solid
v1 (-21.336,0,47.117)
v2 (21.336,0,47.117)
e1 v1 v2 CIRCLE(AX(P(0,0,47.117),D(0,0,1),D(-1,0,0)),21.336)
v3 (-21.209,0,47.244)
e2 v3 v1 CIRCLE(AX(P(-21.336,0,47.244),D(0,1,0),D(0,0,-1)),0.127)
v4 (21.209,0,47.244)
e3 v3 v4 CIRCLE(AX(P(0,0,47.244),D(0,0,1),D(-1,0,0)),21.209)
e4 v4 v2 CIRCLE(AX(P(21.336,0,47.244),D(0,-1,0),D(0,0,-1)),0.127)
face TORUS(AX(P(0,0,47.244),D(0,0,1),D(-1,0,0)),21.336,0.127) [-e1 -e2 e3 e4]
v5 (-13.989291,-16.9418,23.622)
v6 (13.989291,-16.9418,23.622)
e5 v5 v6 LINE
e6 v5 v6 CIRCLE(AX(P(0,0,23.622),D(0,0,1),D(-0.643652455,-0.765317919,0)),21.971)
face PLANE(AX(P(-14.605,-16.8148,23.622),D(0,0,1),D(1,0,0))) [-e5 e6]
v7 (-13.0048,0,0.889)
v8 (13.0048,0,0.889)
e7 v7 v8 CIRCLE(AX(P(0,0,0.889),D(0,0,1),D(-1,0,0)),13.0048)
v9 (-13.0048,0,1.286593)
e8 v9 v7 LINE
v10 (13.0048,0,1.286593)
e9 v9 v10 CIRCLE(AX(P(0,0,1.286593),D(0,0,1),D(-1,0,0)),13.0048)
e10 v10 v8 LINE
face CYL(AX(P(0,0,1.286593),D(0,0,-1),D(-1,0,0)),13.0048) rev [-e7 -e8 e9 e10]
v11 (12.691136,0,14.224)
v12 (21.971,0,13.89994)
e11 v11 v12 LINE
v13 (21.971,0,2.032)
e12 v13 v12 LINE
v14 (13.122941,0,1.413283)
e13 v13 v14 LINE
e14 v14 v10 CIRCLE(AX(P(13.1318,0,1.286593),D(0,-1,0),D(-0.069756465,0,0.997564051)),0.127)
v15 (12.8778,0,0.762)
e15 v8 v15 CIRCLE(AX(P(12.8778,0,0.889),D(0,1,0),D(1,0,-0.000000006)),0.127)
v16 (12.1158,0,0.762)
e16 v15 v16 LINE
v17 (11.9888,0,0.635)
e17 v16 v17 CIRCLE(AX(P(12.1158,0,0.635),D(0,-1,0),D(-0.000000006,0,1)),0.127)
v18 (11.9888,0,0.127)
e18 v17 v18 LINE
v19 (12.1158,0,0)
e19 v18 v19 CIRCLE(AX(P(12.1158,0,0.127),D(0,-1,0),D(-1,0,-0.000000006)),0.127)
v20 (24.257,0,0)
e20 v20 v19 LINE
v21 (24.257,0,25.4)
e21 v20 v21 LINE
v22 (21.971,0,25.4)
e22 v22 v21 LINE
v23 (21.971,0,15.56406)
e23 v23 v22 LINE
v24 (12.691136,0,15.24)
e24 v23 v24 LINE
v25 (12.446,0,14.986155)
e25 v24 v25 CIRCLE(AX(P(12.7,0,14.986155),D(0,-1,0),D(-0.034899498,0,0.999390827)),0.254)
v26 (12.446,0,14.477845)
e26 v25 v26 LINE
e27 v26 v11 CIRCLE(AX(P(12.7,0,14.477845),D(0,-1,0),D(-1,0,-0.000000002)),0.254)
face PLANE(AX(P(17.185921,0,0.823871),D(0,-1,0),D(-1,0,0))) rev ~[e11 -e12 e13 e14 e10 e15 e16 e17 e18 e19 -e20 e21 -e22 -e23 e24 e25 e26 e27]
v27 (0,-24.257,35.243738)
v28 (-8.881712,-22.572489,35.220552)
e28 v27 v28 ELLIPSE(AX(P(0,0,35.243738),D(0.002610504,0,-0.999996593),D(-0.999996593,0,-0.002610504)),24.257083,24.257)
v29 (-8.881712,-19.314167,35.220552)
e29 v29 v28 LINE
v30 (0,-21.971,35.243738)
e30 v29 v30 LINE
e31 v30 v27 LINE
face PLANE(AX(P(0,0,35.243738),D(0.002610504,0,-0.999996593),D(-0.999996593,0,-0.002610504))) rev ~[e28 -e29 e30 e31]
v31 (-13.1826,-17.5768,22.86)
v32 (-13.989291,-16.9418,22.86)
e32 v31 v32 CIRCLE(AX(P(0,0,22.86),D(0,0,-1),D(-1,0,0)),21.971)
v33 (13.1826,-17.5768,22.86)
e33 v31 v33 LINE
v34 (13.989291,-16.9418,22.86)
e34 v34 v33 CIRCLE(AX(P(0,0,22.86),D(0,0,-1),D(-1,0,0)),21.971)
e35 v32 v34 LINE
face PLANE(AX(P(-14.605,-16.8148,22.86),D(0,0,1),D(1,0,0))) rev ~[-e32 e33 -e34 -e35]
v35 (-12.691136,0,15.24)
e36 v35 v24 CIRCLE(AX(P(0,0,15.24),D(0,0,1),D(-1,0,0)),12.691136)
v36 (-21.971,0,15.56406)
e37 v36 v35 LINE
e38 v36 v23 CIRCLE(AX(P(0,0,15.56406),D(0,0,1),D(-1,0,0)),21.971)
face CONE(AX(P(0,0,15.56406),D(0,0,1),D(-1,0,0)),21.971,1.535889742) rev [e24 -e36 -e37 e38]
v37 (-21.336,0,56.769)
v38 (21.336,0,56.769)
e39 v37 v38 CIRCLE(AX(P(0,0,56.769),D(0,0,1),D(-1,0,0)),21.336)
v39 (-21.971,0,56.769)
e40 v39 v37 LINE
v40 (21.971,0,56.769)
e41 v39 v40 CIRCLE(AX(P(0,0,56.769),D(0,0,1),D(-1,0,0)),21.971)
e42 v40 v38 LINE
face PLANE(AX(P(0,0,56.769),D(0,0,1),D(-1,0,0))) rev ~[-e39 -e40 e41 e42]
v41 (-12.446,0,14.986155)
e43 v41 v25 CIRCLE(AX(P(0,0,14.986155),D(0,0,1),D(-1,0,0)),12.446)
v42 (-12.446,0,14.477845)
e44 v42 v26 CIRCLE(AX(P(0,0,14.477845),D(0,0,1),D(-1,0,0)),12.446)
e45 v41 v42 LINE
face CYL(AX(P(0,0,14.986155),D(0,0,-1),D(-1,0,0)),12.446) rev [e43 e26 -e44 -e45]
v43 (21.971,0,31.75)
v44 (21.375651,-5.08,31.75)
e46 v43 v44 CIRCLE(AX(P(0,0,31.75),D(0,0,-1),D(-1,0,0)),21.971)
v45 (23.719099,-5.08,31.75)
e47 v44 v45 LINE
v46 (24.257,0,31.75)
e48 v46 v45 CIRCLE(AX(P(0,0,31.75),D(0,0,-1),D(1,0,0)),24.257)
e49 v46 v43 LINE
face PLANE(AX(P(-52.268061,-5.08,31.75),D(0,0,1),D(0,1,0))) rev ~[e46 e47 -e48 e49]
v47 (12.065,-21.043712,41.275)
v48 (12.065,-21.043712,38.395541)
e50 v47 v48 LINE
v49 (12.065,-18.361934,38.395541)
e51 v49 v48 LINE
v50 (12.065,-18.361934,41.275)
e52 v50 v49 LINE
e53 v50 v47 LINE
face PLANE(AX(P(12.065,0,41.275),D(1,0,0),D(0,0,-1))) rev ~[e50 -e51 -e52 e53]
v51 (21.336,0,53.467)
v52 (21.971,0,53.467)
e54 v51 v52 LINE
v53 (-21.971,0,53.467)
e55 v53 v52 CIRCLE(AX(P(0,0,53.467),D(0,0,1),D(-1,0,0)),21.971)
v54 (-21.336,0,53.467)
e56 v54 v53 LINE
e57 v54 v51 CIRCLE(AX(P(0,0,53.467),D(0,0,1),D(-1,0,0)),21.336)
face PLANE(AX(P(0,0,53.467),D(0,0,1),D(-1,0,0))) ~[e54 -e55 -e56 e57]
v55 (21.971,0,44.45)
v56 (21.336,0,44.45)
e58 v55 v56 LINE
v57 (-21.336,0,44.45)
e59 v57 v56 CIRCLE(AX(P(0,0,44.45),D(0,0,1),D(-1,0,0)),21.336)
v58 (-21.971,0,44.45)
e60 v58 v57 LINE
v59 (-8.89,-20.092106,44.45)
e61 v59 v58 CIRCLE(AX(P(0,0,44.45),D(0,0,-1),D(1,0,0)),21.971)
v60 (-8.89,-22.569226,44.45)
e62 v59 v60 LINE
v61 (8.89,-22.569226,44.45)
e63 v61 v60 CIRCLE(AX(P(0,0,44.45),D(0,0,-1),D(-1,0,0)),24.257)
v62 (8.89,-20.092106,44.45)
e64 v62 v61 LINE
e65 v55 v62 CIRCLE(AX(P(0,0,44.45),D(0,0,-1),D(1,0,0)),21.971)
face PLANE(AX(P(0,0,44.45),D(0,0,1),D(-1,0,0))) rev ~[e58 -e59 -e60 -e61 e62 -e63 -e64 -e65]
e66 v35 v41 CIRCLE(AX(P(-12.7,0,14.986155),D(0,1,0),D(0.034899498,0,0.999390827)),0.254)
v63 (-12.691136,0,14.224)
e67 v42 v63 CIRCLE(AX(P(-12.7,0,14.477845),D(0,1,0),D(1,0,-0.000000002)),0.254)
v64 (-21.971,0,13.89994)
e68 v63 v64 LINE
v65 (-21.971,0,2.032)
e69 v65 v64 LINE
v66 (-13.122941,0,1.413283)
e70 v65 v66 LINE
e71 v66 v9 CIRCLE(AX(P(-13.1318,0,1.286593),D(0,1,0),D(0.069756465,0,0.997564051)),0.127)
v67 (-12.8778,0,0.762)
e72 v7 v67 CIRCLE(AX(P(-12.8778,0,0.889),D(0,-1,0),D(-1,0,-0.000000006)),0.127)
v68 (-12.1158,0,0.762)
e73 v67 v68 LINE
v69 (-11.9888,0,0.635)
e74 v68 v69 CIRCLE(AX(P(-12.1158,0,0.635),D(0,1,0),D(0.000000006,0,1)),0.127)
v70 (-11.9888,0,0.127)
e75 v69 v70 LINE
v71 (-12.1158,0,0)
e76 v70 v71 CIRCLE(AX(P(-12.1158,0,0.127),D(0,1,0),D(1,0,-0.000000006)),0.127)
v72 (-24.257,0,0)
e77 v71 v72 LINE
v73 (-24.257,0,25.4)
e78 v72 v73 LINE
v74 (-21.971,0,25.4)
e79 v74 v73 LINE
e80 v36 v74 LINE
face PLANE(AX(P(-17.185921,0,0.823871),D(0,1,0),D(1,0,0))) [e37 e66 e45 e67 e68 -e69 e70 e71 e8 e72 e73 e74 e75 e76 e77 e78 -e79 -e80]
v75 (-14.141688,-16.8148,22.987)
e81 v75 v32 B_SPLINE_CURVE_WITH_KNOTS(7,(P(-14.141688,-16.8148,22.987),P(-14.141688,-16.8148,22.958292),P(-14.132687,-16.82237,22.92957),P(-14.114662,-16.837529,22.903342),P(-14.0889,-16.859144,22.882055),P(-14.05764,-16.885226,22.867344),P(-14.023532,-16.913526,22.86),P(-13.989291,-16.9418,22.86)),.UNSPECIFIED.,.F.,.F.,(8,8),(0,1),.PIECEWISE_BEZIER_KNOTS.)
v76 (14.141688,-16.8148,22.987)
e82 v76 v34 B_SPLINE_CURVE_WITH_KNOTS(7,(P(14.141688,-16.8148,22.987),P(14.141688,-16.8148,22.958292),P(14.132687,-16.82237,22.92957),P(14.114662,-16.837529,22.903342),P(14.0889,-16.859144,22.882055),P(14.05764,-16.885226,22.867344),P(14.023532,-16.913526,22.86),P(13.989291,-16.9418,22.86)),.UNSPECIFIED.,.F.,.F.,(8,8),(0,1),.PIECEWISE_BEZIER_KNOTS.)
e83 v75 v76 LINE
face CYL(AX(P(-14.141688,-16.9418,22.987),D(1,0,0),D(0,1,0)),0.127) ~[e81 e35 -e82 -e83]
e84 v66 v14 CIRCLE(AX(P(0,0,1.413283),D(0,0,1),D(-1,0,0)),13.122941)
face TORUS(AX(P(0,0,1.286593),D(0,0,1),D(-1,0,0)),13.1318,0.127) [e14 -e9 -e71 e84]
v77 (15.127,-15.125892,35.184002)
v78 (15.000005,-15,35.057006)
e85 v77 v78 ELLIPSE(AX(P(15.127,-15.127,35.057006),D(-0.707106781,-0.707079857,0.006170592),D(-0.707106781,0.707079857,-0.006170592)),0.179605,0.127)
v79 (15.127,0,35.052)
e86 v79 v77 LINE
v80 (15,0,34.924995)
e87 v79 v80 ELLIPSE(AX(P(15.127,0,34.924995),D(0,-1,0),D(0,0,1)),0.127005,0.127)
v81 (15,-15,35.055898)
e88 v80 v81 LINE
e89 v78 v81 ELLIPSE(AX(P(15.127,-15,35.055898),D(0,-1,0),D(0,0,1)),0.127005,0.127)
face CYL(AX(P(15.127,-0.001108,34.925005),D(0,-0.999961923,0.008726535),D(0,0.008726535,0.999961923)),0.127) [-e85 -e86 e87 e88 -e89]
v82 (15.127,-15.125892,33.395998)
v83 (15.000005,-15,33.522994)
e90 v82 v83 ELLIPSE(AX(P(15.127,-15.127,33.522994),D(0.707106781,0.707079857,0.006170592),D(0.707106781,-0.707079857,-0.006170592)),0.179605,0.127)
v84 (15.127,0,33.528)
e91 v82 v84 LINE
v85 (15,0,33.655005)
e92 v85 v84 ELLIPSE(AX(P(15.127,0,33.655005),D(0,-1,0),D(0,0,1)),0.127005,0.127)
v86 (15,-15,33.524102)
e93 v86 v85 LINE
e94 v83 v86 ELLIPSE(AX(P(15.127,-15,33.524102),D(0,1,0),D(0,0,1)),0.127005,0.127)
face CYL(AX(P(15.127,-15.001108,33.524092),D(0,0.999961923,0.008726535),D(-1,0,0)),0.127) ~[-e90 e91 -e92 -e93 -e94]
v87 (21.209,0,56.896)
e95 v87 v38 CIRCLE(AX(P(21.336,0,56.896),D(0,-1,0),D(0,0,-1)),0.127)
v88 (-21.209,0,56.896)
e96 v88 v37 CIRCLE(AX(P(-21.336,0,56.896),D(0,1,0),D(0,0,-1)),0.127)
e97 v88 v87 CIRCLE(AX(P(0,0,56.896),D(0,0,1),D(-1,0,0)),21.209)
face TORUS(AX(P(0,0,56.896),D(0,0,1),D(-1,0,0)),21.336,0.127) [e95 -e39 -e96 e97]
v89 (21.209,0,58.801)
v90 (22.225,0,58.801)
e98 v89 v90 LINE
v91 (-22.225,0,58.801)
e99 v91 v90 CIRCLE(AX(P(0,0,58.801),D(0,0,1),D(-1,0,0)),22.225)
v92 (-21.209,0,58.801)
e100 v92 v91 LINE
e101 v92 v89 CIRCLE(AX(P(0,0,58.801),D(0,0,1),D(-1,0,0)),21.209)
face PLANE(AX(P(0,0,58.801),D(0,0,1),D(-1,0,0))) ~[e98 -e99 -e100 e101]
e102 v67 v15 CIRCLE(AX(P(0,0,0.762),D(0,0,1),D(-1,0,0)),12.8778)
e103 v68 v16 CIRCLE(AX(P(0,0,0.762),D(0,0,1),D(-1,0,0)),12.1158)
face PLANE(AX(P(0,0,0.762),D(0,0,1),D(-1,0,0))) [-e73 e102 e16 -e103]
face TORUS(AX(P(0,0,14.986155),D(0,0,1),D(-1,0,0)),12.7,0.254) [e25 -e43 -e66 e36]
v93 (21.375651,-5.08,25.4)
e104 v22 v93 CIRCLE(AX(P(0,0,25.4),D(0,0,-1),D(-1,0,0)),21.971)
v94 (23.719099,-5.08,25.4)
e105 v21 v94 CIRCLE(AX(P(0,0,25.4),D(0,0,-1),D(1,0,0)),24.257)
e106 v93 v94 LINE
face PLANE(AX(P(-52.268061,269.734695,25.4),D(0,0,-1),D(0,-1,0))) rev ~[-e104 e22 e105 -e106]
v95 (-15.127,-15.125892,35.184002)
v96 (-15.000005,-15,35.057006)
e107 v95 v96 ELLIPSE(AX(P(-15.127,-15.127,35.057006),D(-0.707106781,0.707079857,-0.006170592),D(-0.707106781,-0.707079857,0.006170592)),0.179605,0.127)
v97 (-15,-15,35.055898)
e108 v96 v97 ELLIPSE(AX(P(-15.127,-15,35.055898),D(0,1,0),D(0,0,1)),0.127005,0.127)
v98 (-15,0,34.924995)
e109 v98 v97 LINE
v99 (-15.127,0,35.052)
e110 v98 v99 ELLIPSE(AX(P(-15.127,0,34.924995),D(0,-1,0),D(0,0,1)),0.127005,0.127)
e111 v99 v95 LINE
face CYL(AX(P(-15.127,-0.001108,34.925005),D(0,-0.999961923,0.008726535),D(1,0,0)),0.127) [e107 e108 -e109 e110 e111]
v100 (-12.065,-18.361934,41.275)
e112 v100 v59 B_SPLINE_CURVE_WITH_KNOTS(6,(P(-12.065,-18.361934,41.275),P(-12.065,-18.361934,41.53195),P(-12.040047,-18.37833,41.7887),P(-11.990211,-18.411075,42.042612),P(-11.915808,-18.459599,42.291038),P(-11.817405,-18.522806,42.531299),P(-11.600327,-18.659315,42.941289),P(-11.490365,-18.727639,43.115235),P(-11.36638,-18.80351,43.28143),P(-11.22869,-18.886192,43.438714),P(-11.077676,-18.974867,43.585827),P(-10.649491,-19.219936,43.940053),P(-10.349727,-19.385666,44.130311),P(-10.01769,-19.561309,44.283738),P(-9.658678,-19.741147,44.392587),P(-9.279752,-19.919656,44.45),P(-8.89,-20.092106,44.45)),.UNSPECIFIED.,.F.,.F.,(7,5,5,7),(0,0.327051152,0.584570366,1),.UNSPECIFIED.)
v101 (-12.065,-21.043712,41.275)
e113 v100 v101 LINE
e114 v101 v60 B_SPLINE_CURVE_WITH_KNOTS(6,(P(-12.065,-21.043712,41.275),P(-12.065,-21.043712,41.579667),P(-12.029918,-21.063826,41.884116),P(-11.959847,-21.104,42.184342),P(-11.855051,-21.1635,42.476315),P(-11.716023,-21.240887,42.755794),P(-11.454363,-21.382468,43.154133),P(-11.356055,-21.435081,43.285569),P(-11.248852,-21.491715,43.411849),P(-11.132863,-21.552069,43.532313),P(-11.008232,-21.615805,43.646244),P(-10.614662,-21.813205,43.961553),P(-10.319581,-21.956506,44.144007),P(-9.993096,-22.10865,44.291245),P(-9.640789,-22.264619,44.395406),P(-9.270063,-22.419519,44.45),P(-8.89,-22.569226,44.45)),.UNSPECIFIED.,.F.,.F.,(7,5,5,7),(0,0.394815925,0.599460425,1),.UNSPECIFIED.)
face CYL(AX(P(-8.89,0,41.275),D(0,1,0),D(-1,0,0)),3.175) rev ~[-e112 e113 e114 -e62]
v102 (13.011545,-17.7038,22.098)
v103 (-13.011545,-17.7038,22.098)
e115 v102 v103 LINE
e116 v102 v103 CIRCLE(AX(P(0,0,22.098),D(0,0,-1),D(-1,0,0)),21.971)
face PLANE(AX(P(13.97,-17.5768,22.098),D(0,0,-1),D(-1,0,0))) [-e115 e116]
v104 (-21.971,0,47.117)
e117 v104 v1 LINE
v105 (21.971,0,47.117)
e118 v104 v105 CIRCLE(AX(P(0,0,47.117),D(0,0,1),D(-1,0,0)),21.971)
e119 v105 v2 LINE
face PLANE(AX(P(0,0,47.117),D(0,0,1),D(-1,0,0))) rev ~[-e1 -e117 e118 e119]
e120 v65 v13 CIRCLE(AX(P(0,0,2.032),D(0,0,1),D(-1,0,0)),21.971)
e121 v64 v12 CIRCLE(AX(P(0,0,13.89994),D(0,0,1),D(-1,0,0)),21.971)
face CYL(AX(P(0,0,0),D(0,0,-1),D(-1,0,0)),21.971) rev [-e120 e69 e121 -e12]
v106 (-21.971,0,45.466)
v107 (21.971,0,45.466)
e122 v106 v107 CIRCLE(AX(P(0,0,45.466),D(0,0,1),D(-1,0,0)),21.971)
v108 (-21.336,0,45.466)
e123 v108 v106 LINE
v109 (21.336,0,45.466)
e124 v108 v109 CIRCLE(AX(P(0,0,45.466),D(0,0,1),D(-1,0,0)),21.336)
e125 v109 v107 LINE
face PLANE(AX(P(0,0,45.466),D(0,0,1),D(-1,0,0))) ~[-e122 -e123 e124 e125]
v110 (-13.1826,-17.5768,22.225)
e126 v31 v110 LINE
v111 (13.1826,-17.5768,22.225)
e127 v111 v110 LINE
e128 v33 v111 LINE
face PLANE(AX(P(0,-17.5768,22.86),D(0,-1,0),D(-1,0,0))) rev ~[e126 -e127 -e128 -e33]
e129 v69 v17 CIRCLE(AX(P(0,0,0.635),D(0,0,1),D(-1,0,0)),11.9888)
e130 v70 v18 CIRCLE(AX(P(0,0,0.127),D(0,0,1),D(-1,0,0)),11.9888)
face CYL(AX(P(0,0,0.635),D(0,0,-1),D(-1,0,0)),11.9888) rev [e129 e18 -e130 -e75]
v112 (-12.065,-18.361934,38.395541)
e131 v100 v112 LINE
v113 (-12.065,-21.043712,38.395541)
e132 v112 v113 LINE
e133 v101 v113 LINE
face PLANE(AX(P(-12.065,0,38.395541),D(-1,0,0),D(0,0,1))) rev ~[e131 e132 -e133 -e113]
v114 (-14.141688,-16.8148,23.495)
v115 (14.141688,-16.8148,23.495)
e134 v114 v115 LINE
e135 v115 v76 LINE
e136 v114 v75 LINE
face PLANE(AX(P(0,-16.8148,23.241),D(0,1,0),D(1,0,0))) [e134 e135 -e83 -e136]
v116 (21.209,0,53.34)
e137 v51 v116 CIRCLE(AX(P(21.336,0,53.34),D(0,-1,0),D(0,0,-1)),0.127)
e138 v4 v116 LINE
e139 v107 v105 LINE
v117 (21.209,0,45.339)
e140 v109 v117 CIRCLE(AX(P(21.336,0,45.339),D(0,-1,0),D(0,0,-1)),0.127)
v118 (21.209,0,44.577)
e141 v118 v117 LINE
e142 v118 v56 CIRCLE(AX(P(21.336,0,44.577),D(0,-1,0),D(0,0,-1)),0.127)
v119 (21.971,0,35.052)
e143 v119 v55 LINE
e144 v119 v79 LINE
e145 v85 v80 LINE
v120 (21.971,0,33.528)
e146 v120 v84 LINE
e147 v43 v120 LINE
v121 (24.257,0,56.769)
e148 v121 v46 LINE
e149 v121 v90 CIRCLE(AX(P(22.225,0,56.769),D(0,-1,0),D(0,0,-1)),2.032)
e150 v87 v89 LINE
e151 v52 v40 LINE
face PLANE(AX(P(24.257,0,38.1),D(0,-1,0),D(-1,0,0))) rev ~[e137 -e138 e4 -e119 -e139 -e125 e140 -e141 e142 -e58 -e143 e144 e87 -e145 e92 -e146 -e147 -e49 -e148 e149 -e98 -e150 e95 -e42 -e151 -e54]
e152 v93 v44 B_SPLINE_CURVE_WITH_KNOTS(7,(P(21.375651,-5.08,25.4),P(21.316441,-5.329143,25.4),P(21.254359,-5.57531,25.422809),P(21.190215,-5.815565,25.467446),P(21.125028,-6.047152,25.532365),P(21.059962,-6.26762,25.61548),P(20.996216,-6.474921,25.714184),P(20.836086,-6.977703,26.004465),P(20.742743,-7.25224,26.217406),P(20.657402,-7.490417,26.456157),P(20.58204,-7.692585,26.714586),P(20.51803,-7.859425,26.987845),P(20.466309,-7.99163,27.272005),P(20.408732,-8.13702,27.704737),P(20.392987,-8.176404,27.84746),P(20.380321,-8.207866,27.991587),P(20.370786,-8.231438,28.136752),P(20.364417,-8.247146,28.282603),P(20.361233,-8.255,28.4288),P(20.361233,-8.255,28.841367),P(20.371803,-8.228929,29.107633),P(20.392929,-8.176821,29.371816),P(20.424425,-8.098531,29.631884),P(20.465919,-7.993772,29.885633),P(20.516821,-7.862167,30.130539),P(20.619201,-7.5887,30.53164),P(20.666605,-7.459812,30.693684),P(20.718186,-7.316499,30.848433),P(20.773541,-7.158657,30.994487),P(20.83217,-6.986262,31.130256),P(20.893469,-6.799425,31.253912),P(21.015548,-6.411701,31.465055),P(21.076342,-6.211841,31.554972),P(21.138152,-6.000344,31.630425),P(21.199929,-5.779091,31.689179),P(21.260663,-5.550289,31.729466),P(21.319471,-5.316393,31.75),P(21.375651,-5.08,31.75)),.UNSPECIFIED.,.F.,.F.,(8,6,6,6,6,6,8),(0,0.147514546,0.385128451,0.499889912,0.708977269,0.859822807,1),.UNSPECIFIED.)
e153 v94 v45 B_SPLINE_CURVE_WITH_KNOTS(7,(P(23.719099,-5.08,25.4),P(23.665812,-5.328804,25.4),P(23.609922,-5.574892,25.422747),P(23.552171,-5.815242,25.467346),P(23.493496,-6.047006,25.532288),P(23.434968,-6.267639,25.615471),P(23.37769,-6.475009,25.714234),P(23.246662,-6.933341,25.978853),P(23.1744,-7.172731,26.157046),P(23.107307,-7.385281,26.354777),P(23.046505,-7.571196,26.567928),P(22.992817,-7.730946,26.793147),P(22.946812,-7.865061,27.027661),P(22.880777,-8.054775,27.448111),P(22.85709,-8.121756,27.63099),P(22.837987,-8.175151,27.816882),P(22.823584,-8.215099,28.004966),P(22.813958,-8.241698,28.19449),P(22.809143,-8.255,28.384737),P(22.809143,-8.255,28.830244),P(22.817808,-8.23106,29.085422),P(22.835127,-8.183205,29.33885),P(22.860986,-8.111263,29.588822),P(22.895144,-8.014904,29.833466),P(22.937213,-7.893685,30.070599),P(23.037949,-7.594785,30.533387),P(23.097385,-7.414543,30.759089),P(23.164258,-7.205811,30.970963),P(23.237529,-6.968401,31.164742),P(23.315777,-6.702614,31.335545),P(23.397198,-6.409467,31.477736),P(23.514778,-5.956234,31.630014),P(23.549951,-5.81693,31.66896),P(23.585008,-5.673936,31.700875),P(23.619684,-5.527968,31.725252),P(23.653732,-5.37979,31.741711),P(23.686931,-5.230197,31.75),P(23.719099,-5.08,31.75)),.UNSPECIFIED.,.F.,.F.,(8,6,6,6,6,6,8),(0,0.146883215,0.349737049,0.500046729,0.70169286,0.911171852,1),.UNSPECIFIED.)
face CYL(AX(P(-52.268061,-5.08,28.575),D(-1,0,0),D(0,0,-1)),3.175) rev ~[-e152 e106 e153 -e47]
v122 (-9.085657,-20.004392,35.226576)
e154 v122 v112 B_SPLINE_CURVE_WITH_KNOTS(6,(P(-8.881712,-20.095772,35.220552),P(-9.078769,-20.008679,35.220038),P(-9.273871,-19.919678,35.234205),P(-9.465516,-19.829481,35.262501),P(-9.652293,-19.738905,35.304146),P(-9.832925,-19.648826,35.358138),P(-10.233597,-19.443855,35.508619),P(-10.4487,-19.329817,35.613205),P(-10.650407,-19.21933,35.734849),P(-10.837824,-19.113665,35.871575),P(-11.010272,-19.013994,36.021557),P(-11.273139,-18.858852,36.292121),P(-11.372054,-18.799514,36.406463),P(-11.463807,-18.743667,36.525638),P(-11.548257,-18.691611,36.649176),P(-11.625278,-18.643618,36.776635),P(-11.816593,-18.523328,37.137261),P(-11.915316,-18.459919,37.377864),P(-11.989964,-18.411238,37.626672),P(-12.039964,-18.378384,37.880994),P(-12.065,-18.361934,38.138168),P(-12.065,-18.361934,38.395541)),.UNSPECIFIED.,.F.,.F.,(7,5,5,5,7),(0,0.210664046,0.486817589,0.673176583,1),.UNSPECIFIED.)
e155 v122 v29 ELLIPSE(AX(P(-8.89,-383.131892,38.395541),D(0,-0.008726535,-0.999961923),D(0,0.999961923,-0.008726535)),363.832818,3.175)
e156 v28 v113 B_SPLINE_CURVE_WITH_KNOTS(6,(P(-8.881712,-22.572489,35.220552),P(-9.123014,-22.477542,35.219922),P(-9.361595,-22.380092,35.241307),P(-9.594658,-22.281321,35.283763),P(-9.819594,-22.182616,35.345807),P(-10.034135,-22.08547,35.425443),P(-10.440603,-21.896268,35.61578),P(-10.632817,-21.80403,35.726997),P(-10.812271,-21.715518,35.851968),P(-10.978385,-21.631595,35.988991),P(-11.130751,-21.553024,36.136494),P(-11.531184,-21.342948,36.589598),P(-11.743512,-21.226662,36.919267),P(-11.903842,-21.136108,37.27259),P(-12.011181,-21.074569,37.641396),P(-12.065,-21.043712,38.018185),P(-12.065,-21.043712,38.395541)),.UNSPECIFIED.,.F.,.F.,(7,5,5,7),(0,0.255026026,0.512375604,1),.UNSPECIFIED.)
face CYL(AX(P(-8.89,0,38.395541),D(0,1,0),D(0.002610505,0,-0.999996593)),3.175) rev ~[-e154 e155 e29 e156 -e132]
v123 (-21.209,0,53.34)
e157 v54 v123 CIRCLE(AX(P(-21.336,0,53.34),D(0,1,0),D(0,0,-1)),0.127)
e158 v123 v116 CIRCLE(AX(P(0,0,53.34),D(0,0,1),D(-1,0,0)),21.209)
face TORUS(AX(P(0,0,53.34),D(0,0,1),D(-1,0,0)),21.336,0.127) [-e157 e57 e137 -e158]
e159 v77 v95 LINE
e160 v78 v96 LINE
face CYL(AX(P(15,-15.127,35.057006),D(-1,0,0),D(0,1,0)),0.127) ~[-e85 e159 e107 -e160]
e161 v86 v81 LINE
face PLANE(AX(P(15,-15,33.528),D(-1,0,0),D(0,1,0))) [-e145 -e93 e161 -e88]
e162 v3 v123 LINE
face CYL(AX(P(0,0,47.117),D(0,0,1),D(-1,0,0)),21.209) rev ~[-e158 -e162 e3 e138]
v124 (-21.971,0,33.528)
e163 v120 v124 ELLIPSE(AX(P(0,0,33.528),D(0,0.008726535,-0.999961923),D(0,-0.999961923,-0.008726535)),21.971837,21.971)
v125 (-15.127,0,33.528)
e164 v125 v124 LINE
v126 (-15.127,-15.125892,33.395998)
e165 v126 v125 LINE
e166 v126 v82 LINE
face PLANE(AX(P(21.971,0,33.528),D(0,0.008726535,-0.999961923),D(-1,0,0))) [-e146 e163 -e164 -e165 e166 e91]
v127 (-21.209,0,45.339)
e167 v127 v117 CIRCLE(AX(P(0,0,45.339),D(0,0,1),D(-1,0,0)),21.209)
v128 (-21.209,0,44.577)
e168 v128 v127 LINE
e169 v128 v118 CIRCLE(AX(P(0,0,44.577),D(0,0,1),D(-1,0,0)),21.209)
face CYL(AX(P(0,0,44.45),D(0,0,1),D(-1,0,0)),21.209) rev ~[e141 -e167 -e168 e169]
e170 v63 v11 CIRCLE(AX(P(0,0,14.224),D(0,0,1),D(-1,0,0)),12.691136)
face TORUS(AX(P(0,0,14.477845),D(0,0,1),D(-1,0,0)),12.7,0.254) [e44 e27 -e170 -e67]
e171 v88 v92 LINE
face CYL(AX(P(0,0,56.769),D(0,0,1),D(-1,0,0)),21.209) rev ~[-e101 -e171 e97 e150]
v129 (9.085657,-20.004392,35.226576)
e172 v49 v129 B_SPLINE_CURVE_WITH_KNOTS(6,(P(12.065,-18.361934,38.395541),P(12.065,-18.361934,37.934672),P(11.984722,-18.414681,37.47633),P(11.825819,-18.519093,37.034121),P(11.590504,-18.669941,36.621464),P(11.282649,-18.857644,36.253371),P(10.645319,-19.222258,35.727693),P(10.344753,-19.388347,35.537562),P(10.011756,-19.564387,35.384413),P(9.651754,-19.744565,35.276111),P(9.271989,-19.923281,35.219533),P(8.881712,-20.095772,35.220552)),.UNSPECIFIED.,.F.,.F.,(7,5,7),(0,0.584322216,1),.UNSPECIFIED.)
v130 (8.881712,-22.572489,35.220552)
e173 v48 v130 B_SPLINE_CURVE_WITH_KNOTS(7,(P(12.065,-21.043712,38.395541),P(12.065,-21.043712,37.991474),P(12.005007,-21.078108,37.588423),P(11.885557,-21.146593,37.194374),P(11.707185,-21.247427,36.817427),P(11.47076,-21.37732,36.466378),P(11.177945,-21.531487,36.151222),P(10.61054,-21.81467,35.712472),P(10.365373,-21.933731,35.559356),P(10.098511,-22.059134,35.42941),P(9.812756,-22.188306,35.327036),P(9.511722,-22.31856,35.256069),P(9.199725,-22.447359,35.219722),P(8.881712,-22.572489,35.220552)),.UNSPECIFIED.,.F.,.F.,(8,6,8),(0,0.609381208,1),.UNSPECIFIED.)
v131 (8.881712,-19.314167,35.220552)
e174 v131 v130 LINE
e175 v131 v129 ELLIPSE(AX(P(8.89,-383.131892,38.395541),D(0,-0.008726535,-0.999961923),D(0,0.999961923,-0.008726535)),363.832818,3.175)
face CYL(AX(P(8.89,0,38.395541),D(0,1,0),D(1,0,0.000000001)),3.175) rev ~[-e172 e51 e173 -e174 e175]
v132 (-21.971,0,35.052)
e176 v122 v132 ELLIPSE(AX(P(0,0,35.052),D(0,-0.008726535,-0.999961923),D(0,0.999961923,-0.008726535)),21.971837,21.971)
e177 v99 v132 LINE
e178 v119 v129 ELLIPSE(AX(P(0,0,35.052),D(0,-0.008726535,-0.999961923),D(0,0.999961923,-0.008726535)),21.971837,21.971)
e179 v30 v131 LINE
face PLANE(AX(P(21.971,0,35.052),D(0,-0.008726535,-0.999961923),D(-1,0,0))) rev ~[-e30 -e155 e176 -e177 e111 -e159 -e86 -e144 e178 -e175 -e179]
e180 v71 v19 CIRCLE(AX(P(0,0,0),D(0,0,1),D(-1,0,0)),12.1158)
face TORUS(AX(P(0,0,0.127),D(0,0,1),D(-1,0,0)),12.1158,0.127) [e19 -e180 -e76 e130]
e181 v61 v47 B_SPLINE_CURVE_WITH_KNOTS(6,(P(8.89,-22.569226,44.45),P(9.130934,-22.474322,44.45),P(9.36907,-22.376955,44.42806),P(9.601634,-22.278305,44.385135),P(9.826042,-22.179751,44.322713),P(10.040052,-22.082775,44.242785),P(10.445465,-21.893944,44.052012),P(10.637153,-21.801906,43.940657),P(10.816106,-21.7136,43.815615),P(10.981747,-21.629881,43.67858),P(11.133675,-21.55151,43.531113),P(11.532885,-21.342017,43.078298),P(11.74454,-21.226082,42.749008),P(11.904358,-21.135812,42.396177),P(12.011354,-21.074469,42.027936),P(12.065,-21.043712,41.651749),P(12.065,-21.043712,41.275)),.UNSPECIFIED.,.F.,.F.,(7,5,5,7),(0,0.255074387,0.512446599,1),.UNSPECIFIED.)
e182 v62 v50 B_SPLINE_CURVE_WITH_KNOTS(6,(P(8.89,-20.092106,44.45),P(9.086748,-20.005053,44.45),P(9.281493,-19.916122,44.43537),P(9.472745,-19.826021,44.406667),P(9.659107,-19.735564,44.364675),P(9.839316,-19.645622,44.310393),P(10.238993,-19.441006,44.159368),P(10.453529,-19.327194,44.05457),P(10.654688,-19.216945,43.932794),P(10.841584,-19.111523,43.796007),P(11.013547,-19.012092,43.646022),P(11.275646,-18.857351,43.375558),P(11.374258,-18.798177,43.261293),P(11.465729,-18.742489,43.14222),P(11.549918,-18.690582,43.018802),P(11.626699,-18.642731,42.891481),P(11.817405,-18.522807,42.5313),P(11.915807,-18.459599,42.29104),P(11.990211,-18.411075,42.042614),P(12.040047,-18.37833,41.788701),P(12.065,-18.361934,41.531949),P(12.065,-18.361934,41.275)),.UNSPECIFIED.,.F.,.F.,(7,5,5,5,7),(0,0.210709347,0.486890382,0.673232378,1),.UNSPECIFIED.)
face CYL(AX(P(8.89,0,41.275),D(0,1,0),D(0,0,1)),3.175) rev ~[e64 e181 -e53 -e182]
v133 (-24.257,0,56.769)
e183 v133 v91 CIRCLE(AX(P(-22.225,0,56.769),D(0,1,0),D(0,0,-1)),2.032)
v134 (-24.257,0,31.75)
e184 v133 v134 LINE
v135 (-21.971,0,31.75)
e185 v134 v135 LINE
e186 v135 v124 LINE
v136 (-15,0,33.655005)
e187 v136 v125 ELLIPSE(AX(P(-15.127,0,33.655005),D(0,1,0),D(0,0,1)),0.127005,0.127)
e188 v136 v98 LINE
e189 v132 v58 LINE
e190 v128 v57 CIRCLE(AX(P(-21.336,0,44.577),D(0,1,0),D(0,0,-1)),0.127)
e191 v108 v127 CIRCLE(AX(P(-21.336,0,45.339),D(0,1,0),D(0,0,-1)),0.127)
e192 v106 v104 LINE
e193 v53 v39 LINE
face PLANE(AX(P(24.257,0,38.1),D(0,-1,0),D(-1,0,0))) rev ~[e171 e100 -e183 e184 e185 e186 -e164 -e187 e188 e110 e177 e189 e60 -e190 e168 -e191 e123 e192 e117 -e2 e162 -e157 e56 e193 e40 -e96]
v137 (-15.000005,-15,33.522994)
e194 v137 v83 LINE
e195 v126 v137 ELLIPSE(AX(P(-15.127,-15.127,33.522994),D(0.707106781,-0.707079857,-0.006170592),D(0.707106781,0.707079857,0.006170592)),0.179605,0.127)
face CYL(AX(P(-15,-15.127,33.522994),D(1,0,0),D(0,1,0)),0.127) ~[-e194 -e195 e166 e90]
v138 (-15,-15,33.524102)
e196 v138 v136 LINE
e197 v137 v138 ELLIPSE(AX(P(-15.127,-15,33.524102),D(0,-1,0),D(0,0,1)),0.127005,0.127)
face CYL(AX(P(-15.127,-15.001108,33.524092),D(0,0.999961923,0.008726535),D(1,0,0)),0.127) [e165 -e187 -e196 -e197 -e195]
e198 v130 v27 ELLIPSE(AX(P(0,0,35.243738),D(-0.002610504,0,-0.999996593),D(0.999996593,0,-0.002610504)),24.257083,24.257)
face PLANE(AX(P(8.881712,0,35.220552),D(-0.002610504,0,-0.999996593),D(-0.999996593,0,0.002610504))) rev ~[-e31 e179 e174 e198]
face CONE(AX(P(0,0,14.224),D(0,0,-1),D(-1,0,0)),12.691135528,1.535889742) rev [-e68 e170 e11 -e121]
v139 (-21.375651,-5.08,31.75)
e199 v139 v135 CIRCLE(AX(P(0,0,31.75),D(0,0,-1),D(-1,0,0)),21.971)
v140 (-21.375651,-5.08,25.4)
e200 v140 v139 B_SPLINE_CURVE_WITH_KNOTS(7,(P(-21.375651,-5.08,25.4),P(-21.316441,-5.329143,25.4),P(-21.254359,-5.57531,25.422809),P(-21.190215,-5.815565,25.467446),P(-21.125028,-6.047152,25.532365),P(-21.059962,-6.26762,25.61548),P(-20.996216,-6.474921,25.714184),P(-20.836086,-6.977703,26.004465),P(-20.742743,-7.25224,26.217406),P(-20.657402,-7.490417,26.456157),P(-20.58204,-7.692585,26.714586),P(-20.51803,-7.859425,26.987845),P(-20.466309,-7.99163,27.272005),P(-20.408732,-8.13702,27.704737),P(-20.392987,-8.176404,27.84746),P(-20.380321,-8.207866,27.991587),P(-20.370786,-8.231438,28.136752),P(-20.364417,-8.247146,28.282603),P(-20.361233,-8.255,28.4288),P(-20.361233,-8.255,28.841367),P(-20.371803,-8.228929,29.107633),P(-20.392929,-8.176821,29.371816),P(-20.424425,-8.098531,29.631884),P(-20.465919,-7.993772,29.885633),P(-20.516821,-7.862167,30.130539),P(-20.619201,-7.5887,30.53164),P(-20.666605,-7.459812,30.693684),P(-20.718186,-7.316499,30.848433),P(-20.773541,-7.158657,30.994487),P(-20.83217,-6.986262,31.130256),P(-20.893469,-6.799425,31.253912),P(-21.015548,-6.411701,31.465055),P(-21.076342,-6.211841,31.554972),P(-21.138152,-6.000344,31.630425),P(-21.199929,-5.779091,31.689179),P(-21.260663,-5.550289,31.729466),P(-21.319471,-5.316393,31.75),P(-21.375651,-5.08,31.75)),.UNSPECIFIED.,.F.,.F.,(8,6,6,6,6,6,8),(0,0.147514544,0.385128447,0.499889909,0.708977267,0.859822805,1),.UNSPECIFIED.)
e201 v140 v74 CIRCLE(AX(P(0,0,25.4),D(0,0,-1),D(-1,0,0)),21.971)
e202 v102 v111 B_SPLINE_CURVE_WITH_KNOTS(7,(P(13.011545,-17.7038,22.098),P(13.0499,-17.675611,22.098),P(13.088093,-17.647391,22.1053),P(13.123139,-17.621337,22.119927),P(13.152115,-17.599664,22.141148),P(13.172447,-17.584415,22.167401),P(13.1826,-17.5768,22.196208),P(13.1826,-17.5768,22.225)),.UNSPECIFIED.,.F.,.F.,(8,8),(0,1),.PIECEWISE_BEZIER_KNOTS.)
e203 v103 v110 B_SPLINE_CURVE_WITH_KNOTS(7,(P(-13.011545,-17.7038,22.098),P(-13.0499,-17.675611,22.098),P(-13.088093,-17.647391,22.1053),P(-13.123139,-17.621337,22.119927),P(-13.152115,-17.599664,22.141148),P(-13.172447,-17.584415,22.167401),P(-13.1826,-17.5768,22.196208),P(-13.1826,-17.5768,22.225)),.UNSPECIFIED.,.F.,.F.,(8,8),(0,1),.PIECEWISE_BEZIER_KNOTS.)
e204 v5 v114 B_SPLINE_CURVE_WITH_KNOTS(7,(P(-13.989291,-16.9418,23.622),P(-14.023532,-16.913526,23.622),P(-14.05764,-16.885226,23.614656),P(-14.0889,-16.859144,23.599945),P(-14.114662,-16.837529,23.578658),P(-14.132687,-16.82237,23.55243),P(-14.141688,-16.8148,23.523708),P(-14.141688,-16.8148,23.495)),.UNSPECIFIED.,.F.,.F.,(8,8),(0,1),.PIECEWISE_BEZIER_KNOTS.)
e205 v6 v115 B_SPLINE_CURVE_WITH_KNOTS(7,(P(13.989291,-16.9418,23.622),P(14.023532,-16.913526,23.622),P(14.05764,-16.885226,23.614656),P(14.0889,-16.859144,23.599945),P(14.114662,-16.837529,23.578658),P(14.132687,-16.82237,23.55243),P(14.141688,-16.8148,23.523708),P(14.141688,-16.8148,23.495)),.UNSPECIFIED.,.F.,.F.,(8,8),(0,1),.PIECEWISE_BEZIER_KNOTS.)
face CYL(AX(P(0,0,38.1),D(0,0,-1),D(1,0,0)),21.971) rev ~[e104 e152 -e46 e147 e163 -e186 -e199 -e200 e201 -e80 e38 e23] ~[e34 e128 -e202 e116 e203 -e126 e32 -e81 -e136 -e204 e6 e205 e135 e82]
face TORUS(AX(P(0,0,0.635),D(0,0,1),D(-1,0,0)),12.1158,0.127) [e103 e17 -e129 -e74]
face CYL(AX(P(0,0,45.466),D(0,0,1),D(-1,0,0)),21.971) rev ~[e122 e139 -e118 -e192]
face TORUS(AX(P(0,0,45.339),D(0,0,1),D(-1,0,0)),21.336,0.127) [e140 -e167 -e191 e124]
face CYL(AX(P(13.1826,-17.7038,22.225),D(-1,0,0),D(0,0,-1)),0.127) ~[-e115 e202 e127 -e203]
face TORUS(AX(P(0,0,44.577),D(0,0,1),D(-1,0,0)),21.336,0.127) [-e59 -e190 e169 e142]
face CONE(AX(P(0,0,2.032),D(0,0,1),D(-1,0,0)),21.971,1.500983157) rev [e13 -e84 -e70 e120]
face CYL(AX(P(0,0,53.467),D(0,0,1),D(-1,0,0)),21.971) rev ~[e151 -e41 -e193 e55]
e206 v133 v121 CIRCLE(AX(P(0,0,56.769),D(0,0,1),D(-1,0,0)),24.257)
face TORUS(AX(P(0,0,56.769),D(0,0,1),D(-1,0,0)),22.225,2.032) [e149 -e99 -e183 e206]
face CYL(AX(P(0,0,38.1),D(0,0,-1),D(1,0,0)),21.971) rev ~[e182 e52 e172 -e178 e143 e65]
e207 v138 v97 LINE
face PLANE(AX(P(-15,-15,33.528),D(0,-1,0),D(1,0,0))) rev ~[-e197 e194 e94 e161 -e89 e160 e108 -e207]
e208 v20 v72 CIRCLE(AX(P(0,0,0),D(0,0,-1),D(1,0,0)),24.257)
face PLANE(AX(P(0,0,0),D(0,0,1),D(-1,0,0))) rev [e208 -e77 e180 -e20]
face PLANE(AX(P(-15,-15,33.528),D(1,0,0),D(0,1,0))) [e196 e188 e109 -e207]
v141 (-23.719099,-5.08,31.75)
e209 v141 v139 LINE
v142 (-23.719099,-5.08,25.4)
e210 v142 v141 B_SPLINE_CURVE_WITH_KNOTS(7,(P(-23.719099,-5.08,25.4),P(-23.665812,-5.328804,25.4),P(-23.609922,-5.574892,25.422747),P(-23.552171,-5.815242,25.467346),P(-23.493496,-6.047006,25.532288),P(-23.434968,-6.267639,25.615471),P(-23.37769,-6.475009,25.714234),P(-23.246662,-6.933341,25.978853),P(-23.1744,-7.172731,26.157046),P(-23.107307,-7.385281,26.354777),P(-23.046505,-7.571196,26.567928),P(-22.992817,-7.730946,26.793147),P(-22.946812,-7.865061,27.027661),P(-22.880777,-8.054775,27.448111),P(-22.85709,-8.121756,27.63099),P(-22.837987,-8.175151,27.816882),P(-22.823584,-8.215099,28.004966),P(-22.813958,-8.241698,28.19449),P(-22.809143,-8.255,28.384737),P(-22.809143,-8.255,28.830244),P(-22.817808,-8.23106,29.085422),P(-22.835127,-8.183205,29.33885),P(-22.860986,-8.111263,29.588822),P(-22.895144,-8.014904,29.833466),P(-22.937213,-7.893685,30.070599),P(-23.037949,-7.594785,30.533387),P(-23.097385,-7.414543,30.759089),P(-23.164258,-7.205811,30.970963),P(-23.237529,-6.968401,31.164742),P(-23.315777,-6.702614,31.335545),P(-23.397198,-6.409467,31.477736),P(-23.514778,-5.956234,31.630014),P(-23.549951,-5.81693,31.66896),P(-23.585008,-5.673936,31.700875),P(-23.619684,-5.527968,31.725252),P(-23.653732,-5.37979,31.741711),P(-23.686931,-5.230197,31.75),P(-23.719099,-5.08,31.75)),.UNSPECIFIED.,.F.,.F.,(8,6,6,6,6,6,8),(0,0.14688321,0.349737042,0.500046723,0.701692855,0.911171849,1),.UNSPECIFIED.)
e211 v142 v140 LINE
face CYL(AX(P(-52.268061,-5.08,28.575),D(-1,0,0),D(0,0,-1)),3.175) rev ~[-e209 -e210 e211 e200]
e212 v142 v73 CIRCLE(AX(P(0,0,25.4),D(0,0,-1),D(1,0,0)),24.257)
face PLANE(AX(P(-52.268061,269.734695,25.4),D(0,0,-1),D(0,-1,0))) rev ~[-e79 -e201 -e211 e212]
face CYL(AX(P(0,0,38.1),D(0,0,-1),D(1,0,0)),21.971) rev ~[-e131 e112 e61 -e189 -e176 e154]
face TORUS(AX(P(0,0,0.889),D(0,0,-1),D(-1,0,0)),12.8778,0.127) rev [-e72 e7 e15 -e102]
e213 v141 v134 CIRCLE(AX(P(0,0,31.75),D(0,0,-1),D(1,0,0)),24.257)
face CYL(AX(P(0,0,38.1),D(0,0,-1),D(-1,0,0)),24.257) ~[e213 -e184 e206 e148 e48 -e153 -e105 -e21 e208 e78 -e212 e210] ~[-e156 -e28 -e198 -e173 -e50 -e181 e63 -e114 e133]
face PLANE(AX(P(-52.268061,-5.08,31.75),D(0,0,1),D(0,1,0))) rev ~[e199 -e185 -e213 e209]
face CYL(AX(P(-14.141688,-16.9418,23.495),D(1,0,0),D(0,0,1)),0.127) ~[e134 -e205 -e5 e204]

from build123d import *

# Parameters (mm, degrees)
BOSS_EXTRUDE1_DEPTH            = 38.1
REVOLVE1_ANGLE                 = 180
REVOLVE2_ANGLE                 = 180
BOSS_EXTRUDE6_REACH            = 50.466
SKETCH11_W                     = 27.94
SKETCH11_H                     = 1.524
SKETCH12_W                     = 29.21
SKETCH12_H                     = 0.762
BOSS_EXTRUDE7_DEPTH            = 0.762
CUT_EXTRUDE1_DEPTH             = 52.268061188
CUT_EXTRUDE1_DEPTH_BACK        = 52.268061188
REVOLVE3_ANGLE                 = 180
BOSS_EXTRUDE9_REACH            = 53.268
BOSS_EXTRUDE10_REACH           = 70.076
SKETCH18_W                     = 43.942
SKETCH18_H                     = 1.524
BOSS_EXTRUDE10_DRAFT           = -0.5
CUT_EXTRUDE2_REACH             = 49.968
SKETCH21_W                     = 30
SKETCH21_H                     = 30
CUT_EXTRUDE2_DIRECTION_2_REACH = 49.968
FILLET3_R                      = 0.127
FILLET4_R                      = 2.032
CUT_EXTRUDE4_DEPTH             = 69.0761464


with BuildPart() as part:
    # Sketch3 → Boss-Extrude1 (new body)
    with BuildSketch(Plane.XY):
        with BuildLine():
            Line((-24.257, 0), (-21.971, 0))
            ThreePointArc((-21.971, 0), (0, -21.971), (21.971, 0))
            Line((21.971, 0), (24.257, 0))
            ThreePointArc((24.257, 0), (0, -24.257), (-24.257, 0))
        make_face()
    extrude(amount=BOSS_EXTRUDE1_DEPTH)

    # Sketch8 → Revolve1 (revolve)
    with BuildSketch(Plane(origin=(0, 0, 0), x_dir=(-1, 0, 0), z_dir=(0, -1, 0))):
        with BuildLine():
            Line((21.971, 0), (21.971, -2.032))
            Line((21.971, -2.032), (13.122940928, -1.413283437))
            ThreePointArc((13.122940928, -1.413283437), (13.03891808, -1.373206595), (13.0048, -1.286592803))
            Line((13.0048, -1.286592803), (13.0048, -0.889))
            ThreePointArc((13.0048, -0.889), (12.967602561, -0.799197439), (12.8778, -0.762))
            Line((12.8778, -0.762), (12.1158, -0.762))
            ThreePointArc((12.1158, -0.762), (12.025997439, -0.724802561), (11.9888, -0.635))
            Line((11.9888, -0.635), (11.9888, -0.127))
            ThreePointArc((11.9888, -0.127), (12.025997439, -0.037197439), (12.1158, 0))
            Line((12.1158, 0), (21.971, 0))
        make_face()
    revolve(axis=Axis((0, 0, 38.1), (0, 0, 1)), revolution_arc=REVOLVE1_ANGLE)

    # Sketch9 → Revolve2 (revolve)
    with BuildSketch(Plane(origin=(0, 0, 0), x_dir=(-1, 0, 0), z_dir=(0, -1, 0))):
        with BuildLine():
            Line((12.446, -14.98615473), (12.446, -14.47784527))
            ThreePointArc((12.446, -14.47784527), (12.517287691, -14.301402044), (12.691135528, -14.224))
            Line((12.691135528, -14.224), (21.971, -13.899939992))
            Line((21.971, -13.899939992), (21.971, -15.564060008))
            Line((21.971, -15.564060008), (12.691135528, -15.24))
            ThreePointArc((12.691135528, -15.24), (12.517287691, -15.162597956), (12.446, -14.98615473))
        make_face()
    revolve(axis=Axis((0, 0, 38.1), (0, 0, 1)), revolution_arc=REVOLVE2_ANGLE)

    # Sketch11 → Boss-Extrude6 (add, up to next)
    with BuildSketch(Plane(origin=(0, -17.5768, 0), x_dir=(-1, 0, 0), z_dir=(0, -1, 0)), mode=Mode.PRIVATE) as boss_extrude6_sk1:
        with Locations((0, -22.86)):
            Rectangle(SKETCH11_W, SKETCH11_H)
    boss_extrude6_tool1 = extrude(boss_extrude6_sk1.sketch, amount=BOSS_EXTRUDE6_REACH, mode=Mode.PRIVATE) - part.part
    add(boss_extrude6_tool1.solids().sort_by_distance((0, -17.5768, 22.86))[0])

    # Sketch12 → Boss-Extrude7 (add)
    with BuildSketch(Plane(origin=(0, -16.8148, 0), x_dir=(1, 0, 0), z_dir=(0, 1, 0))):
        with Locations((0, -23.241)):
            Rectangle(SKETCH12_W, SKETCH12_H)
    extrude(amount=-BOSS_EXTRUDE7_DEPTH)

    # Sketch13 → Cut-Extrude1 (cut, two sides: drawn at the far end of the back side and taken through both)
    with BuildSketch(Plane(origin=(0, 0, 0), x_dir=(0, 0, -1), z_dir=(1, 0, 0)).offset(-CUT_EXTRUDE1_DEPTH_BACK)):
        with BuildLine():
            Line((-25.4, 89.911564845), (-25.4, 0))
            Line((-25.4, 0), (-25.4, -5.08))
            ThreePointArc((-25.4, -5.08), (-28.575, -8.255), (-31.75, -5.08))
            Line((-31.75, -5.08), (-31.75, 0))
            Line((-31.75, 0), (-31.75, 89.911564845))
            Line((-31.75, 89.911564845), (-31.75, 269.734694535))
            Line((-31.75, 269.734694535), (-25.4, 269.734694535))
            Line((-25.4, 269.734694535), (-25.4, 89.911564845))
        make_face()
    extrude(amount=CUT_EXTRUDE1_DEPTH + CUT_EXTRUDE1_DEPTH_BACK, mode=Mode.SUBTRACT)


with BuildPart() as body_2:
    # Sketch15 → Revolve3 (revolve)
    with BuildSketch(Plane(origin=(0, 0, 0), x_dir=(-1, 0, 0), z_dir=(0, -1, 0))):
        Polygon((21.971, -44.45), (21.209, -44.45), (21.209, -45.466), (21.971, -45.466), (21.971, -47.117), (21.209, -47.117), (21.209, -53.467), (21.971, -53.467), (21.971, -56.769), (21.209, -56.769), (21.209, -58.801), (24.257, -58.801), (24.257, -52.427402605), (24.257, -44.45), align=None)
    revolve(axis=Axis((0, 0, 38.1), (0, 0, 1)), revolution_arc=REVOLVE3_ANGLE)

    # Sketch16 → Boss-Extrude9 (add, up to next)
    with BuildSketch(Plane.XY.offset(38.1), mode=Mode.PRIVATE) as boss_extrude9_sk1:
        with BuildLine():
            Line((24.257, 0), (21.971, 0))
            ThreePointArc((21.971, 0), (0, -21.971), (-21.971, 0))
            Line((-21.971, 0), (-24.257, 0))
            ThreePointArc((-24.257, 0), (0, -24.257), (24.257, 0))
        make_face()
    boss_extrude9_tool1 = extrude(boss_extrude9_sk1.sketch, amount=BOSS_EXTRUDE9_REACH, mode=Mode.PRIVATE) - body_2.part

    add(part.part)  # Boss-Extrude9 merges part
    add(boss_extrude9_tool1.solids().sort_by_distance((23.114, -0.542403, 38.1))[0])




with BuildPart() as boss_extrude10_long_prism_1:
    # Sketch18 → Boss-Extrude10 (the long prism of profile 1, to be tilted and cut off)
    with BuildSketch(Plane(origin=(0, 0, 0), x_dir=(-1, 0, 0), z_dir=(0, -1, 0))):
        with Locations((0, -34.29)):
            Rectangle(SKETCH18_W, SKETCH18_H)
    extrude(amount=BOSS_EXTRUDE10_REACH)
    boss_extrude10_tool1_sides = [boss_extrude10_long_prism_1.faces().sort_by_distance(p)[0] for p in [
        (0, -35.038, 33.528),
        (-21.971, -35.038, 34.29),
        (0, -35.038, 35.052),
        (21.971, -35.038, 34.29),
    ]]
    draft(boss_extrude10_tool1_sides, Plane(origin=(0, 0, 0), x_dir=(-1, 0, 0), z_dir=(0, -1, 0)), BOSS_EXTRUDE10_DRAFT)  # the draft: side faces tilted about the start plane


with BuildPart() as body_2_1:
    add(body_2.part)
    boss_extrude10_tool1 = boss_extrude10_long_prism_1.part - body_2.part
    add(boss_extrude10_tool1.solids().sort_by_distance((0, 0, 34.29))[0])

    # Sketch21 → Cut-Extrude2 (cut, up to next)
    with BuildSketch(Plane.XY.offset(33.528), mode=Mode.PRIVATE) as cut_extrude2_sk1:
        Rectangle(SKETCH21_W, SKETCH21_H)
    cut_extrude2_tool1 = extrude(cut_extrude2_sk1.sketch, amount=-CUT_EXTRUDE2_REACH, mode=Mode.PRIVATE) & body_2_1.part
    add(cut_extrude2_tool1.solids().sort_by_distance((0, 0, 33.528))[0], mode=Mode.SUBTRACT)

    # Sketch21 → Cut-Extrude2 direction 2 (cut, up to next)
    with BuildSketch(Plane.XY.offset(33.528), mode=Mode.PRIVATE) as cut_extrude2_direction_2_sk1:
        Rectangle(SKETCH21_W, SKETCH21_H)
    cut_extrude2_direction_2_tool1 = extrude(cut_extrude2_direction_2_sk1.sketch, amount=CUT_EXTRUDE2_DIRECTION_2_REACH, mode=Mode.PRIVATE) & body_2_1.part
    add(cut_extrude2_direction_2_tool1.solids().sort_by_distance((0, 0, 33.528))[0], mode=Mode.SUBTRACT)

    # Fillet3
    fillet3_edges = [body_2_1.edges().sort_by_distance(p)[0] for p in [
        (0, -21.209, 44.45),
        (0, -21.209, 45.466),
        (0, -21.209, 47.117),
        (0, -21.209, 53.467),
        (0, -21.209, 56.769),
        (0, -15, 35.182903017),
        (-15, -7.5, 35.117451508),
        (15, -7.5, 35.117451508),
        (15, -7.5, 33.462548492),
        (0, -15, 33.397096983),
        (-15, -7.5, 33.462548492),
        (0, -17.5768, 22.098),
        (0, -16.8148, 22.86),
        (0, -16.8148, 23.622),
    ]]
    fillet(fillet3_edges, radius=FILLET3_R)

    # Fillet4
    fillet4_edges = [body_2_1.edges().sort_by_distance(p)[0] for p in [
        (0, -24.257, 58.801),
    ]]
    fillet(fillet4_edges, radius=FILLET4_R)

    # Sketch22 → Cut-Extrude4 (cut, through all)
    with BuildSketch(Plane(origin=(0, 0, 0), x_dir=(-1, 0, 0), z_dir=(0, -1, 0))):
        with BuildLine():
            Line((8.89, -44.45), (-8.89, -44.45))
            ThreePointArc((-8.89, -44.45), (-11.13506403, -43.52006403), (-12.065, -41.275))
            Line((-12.065, -41.275), (-12.065, -38.395541368))
            ThreePointArc((-12.065, -38.395541368), (-11.132131741, -36.147548872), (-8.881711649, -35.220552186))
            Line((-8.881711649, -35.220552186), (0, -35.243738012))
            Line((0, -35.243738012), (8.881711649, -35.220552186))
            ThreePointArc((8.881711649, -35.220552186), (11.132131741, -36.147548872), (12.065, -38.395541368))
            Line((12.065, -38.395541368), (12.065, -41.275))
            ThreePointArc((12.065, -41.275), (11.13506403, -43.52006403), (8.89, -44.45))
        make_face()
    extrude(amount=CUT_EXTRUDE4_DEPTH, mode=Mode.SUBTRACT)


solid = body_2_1.part
